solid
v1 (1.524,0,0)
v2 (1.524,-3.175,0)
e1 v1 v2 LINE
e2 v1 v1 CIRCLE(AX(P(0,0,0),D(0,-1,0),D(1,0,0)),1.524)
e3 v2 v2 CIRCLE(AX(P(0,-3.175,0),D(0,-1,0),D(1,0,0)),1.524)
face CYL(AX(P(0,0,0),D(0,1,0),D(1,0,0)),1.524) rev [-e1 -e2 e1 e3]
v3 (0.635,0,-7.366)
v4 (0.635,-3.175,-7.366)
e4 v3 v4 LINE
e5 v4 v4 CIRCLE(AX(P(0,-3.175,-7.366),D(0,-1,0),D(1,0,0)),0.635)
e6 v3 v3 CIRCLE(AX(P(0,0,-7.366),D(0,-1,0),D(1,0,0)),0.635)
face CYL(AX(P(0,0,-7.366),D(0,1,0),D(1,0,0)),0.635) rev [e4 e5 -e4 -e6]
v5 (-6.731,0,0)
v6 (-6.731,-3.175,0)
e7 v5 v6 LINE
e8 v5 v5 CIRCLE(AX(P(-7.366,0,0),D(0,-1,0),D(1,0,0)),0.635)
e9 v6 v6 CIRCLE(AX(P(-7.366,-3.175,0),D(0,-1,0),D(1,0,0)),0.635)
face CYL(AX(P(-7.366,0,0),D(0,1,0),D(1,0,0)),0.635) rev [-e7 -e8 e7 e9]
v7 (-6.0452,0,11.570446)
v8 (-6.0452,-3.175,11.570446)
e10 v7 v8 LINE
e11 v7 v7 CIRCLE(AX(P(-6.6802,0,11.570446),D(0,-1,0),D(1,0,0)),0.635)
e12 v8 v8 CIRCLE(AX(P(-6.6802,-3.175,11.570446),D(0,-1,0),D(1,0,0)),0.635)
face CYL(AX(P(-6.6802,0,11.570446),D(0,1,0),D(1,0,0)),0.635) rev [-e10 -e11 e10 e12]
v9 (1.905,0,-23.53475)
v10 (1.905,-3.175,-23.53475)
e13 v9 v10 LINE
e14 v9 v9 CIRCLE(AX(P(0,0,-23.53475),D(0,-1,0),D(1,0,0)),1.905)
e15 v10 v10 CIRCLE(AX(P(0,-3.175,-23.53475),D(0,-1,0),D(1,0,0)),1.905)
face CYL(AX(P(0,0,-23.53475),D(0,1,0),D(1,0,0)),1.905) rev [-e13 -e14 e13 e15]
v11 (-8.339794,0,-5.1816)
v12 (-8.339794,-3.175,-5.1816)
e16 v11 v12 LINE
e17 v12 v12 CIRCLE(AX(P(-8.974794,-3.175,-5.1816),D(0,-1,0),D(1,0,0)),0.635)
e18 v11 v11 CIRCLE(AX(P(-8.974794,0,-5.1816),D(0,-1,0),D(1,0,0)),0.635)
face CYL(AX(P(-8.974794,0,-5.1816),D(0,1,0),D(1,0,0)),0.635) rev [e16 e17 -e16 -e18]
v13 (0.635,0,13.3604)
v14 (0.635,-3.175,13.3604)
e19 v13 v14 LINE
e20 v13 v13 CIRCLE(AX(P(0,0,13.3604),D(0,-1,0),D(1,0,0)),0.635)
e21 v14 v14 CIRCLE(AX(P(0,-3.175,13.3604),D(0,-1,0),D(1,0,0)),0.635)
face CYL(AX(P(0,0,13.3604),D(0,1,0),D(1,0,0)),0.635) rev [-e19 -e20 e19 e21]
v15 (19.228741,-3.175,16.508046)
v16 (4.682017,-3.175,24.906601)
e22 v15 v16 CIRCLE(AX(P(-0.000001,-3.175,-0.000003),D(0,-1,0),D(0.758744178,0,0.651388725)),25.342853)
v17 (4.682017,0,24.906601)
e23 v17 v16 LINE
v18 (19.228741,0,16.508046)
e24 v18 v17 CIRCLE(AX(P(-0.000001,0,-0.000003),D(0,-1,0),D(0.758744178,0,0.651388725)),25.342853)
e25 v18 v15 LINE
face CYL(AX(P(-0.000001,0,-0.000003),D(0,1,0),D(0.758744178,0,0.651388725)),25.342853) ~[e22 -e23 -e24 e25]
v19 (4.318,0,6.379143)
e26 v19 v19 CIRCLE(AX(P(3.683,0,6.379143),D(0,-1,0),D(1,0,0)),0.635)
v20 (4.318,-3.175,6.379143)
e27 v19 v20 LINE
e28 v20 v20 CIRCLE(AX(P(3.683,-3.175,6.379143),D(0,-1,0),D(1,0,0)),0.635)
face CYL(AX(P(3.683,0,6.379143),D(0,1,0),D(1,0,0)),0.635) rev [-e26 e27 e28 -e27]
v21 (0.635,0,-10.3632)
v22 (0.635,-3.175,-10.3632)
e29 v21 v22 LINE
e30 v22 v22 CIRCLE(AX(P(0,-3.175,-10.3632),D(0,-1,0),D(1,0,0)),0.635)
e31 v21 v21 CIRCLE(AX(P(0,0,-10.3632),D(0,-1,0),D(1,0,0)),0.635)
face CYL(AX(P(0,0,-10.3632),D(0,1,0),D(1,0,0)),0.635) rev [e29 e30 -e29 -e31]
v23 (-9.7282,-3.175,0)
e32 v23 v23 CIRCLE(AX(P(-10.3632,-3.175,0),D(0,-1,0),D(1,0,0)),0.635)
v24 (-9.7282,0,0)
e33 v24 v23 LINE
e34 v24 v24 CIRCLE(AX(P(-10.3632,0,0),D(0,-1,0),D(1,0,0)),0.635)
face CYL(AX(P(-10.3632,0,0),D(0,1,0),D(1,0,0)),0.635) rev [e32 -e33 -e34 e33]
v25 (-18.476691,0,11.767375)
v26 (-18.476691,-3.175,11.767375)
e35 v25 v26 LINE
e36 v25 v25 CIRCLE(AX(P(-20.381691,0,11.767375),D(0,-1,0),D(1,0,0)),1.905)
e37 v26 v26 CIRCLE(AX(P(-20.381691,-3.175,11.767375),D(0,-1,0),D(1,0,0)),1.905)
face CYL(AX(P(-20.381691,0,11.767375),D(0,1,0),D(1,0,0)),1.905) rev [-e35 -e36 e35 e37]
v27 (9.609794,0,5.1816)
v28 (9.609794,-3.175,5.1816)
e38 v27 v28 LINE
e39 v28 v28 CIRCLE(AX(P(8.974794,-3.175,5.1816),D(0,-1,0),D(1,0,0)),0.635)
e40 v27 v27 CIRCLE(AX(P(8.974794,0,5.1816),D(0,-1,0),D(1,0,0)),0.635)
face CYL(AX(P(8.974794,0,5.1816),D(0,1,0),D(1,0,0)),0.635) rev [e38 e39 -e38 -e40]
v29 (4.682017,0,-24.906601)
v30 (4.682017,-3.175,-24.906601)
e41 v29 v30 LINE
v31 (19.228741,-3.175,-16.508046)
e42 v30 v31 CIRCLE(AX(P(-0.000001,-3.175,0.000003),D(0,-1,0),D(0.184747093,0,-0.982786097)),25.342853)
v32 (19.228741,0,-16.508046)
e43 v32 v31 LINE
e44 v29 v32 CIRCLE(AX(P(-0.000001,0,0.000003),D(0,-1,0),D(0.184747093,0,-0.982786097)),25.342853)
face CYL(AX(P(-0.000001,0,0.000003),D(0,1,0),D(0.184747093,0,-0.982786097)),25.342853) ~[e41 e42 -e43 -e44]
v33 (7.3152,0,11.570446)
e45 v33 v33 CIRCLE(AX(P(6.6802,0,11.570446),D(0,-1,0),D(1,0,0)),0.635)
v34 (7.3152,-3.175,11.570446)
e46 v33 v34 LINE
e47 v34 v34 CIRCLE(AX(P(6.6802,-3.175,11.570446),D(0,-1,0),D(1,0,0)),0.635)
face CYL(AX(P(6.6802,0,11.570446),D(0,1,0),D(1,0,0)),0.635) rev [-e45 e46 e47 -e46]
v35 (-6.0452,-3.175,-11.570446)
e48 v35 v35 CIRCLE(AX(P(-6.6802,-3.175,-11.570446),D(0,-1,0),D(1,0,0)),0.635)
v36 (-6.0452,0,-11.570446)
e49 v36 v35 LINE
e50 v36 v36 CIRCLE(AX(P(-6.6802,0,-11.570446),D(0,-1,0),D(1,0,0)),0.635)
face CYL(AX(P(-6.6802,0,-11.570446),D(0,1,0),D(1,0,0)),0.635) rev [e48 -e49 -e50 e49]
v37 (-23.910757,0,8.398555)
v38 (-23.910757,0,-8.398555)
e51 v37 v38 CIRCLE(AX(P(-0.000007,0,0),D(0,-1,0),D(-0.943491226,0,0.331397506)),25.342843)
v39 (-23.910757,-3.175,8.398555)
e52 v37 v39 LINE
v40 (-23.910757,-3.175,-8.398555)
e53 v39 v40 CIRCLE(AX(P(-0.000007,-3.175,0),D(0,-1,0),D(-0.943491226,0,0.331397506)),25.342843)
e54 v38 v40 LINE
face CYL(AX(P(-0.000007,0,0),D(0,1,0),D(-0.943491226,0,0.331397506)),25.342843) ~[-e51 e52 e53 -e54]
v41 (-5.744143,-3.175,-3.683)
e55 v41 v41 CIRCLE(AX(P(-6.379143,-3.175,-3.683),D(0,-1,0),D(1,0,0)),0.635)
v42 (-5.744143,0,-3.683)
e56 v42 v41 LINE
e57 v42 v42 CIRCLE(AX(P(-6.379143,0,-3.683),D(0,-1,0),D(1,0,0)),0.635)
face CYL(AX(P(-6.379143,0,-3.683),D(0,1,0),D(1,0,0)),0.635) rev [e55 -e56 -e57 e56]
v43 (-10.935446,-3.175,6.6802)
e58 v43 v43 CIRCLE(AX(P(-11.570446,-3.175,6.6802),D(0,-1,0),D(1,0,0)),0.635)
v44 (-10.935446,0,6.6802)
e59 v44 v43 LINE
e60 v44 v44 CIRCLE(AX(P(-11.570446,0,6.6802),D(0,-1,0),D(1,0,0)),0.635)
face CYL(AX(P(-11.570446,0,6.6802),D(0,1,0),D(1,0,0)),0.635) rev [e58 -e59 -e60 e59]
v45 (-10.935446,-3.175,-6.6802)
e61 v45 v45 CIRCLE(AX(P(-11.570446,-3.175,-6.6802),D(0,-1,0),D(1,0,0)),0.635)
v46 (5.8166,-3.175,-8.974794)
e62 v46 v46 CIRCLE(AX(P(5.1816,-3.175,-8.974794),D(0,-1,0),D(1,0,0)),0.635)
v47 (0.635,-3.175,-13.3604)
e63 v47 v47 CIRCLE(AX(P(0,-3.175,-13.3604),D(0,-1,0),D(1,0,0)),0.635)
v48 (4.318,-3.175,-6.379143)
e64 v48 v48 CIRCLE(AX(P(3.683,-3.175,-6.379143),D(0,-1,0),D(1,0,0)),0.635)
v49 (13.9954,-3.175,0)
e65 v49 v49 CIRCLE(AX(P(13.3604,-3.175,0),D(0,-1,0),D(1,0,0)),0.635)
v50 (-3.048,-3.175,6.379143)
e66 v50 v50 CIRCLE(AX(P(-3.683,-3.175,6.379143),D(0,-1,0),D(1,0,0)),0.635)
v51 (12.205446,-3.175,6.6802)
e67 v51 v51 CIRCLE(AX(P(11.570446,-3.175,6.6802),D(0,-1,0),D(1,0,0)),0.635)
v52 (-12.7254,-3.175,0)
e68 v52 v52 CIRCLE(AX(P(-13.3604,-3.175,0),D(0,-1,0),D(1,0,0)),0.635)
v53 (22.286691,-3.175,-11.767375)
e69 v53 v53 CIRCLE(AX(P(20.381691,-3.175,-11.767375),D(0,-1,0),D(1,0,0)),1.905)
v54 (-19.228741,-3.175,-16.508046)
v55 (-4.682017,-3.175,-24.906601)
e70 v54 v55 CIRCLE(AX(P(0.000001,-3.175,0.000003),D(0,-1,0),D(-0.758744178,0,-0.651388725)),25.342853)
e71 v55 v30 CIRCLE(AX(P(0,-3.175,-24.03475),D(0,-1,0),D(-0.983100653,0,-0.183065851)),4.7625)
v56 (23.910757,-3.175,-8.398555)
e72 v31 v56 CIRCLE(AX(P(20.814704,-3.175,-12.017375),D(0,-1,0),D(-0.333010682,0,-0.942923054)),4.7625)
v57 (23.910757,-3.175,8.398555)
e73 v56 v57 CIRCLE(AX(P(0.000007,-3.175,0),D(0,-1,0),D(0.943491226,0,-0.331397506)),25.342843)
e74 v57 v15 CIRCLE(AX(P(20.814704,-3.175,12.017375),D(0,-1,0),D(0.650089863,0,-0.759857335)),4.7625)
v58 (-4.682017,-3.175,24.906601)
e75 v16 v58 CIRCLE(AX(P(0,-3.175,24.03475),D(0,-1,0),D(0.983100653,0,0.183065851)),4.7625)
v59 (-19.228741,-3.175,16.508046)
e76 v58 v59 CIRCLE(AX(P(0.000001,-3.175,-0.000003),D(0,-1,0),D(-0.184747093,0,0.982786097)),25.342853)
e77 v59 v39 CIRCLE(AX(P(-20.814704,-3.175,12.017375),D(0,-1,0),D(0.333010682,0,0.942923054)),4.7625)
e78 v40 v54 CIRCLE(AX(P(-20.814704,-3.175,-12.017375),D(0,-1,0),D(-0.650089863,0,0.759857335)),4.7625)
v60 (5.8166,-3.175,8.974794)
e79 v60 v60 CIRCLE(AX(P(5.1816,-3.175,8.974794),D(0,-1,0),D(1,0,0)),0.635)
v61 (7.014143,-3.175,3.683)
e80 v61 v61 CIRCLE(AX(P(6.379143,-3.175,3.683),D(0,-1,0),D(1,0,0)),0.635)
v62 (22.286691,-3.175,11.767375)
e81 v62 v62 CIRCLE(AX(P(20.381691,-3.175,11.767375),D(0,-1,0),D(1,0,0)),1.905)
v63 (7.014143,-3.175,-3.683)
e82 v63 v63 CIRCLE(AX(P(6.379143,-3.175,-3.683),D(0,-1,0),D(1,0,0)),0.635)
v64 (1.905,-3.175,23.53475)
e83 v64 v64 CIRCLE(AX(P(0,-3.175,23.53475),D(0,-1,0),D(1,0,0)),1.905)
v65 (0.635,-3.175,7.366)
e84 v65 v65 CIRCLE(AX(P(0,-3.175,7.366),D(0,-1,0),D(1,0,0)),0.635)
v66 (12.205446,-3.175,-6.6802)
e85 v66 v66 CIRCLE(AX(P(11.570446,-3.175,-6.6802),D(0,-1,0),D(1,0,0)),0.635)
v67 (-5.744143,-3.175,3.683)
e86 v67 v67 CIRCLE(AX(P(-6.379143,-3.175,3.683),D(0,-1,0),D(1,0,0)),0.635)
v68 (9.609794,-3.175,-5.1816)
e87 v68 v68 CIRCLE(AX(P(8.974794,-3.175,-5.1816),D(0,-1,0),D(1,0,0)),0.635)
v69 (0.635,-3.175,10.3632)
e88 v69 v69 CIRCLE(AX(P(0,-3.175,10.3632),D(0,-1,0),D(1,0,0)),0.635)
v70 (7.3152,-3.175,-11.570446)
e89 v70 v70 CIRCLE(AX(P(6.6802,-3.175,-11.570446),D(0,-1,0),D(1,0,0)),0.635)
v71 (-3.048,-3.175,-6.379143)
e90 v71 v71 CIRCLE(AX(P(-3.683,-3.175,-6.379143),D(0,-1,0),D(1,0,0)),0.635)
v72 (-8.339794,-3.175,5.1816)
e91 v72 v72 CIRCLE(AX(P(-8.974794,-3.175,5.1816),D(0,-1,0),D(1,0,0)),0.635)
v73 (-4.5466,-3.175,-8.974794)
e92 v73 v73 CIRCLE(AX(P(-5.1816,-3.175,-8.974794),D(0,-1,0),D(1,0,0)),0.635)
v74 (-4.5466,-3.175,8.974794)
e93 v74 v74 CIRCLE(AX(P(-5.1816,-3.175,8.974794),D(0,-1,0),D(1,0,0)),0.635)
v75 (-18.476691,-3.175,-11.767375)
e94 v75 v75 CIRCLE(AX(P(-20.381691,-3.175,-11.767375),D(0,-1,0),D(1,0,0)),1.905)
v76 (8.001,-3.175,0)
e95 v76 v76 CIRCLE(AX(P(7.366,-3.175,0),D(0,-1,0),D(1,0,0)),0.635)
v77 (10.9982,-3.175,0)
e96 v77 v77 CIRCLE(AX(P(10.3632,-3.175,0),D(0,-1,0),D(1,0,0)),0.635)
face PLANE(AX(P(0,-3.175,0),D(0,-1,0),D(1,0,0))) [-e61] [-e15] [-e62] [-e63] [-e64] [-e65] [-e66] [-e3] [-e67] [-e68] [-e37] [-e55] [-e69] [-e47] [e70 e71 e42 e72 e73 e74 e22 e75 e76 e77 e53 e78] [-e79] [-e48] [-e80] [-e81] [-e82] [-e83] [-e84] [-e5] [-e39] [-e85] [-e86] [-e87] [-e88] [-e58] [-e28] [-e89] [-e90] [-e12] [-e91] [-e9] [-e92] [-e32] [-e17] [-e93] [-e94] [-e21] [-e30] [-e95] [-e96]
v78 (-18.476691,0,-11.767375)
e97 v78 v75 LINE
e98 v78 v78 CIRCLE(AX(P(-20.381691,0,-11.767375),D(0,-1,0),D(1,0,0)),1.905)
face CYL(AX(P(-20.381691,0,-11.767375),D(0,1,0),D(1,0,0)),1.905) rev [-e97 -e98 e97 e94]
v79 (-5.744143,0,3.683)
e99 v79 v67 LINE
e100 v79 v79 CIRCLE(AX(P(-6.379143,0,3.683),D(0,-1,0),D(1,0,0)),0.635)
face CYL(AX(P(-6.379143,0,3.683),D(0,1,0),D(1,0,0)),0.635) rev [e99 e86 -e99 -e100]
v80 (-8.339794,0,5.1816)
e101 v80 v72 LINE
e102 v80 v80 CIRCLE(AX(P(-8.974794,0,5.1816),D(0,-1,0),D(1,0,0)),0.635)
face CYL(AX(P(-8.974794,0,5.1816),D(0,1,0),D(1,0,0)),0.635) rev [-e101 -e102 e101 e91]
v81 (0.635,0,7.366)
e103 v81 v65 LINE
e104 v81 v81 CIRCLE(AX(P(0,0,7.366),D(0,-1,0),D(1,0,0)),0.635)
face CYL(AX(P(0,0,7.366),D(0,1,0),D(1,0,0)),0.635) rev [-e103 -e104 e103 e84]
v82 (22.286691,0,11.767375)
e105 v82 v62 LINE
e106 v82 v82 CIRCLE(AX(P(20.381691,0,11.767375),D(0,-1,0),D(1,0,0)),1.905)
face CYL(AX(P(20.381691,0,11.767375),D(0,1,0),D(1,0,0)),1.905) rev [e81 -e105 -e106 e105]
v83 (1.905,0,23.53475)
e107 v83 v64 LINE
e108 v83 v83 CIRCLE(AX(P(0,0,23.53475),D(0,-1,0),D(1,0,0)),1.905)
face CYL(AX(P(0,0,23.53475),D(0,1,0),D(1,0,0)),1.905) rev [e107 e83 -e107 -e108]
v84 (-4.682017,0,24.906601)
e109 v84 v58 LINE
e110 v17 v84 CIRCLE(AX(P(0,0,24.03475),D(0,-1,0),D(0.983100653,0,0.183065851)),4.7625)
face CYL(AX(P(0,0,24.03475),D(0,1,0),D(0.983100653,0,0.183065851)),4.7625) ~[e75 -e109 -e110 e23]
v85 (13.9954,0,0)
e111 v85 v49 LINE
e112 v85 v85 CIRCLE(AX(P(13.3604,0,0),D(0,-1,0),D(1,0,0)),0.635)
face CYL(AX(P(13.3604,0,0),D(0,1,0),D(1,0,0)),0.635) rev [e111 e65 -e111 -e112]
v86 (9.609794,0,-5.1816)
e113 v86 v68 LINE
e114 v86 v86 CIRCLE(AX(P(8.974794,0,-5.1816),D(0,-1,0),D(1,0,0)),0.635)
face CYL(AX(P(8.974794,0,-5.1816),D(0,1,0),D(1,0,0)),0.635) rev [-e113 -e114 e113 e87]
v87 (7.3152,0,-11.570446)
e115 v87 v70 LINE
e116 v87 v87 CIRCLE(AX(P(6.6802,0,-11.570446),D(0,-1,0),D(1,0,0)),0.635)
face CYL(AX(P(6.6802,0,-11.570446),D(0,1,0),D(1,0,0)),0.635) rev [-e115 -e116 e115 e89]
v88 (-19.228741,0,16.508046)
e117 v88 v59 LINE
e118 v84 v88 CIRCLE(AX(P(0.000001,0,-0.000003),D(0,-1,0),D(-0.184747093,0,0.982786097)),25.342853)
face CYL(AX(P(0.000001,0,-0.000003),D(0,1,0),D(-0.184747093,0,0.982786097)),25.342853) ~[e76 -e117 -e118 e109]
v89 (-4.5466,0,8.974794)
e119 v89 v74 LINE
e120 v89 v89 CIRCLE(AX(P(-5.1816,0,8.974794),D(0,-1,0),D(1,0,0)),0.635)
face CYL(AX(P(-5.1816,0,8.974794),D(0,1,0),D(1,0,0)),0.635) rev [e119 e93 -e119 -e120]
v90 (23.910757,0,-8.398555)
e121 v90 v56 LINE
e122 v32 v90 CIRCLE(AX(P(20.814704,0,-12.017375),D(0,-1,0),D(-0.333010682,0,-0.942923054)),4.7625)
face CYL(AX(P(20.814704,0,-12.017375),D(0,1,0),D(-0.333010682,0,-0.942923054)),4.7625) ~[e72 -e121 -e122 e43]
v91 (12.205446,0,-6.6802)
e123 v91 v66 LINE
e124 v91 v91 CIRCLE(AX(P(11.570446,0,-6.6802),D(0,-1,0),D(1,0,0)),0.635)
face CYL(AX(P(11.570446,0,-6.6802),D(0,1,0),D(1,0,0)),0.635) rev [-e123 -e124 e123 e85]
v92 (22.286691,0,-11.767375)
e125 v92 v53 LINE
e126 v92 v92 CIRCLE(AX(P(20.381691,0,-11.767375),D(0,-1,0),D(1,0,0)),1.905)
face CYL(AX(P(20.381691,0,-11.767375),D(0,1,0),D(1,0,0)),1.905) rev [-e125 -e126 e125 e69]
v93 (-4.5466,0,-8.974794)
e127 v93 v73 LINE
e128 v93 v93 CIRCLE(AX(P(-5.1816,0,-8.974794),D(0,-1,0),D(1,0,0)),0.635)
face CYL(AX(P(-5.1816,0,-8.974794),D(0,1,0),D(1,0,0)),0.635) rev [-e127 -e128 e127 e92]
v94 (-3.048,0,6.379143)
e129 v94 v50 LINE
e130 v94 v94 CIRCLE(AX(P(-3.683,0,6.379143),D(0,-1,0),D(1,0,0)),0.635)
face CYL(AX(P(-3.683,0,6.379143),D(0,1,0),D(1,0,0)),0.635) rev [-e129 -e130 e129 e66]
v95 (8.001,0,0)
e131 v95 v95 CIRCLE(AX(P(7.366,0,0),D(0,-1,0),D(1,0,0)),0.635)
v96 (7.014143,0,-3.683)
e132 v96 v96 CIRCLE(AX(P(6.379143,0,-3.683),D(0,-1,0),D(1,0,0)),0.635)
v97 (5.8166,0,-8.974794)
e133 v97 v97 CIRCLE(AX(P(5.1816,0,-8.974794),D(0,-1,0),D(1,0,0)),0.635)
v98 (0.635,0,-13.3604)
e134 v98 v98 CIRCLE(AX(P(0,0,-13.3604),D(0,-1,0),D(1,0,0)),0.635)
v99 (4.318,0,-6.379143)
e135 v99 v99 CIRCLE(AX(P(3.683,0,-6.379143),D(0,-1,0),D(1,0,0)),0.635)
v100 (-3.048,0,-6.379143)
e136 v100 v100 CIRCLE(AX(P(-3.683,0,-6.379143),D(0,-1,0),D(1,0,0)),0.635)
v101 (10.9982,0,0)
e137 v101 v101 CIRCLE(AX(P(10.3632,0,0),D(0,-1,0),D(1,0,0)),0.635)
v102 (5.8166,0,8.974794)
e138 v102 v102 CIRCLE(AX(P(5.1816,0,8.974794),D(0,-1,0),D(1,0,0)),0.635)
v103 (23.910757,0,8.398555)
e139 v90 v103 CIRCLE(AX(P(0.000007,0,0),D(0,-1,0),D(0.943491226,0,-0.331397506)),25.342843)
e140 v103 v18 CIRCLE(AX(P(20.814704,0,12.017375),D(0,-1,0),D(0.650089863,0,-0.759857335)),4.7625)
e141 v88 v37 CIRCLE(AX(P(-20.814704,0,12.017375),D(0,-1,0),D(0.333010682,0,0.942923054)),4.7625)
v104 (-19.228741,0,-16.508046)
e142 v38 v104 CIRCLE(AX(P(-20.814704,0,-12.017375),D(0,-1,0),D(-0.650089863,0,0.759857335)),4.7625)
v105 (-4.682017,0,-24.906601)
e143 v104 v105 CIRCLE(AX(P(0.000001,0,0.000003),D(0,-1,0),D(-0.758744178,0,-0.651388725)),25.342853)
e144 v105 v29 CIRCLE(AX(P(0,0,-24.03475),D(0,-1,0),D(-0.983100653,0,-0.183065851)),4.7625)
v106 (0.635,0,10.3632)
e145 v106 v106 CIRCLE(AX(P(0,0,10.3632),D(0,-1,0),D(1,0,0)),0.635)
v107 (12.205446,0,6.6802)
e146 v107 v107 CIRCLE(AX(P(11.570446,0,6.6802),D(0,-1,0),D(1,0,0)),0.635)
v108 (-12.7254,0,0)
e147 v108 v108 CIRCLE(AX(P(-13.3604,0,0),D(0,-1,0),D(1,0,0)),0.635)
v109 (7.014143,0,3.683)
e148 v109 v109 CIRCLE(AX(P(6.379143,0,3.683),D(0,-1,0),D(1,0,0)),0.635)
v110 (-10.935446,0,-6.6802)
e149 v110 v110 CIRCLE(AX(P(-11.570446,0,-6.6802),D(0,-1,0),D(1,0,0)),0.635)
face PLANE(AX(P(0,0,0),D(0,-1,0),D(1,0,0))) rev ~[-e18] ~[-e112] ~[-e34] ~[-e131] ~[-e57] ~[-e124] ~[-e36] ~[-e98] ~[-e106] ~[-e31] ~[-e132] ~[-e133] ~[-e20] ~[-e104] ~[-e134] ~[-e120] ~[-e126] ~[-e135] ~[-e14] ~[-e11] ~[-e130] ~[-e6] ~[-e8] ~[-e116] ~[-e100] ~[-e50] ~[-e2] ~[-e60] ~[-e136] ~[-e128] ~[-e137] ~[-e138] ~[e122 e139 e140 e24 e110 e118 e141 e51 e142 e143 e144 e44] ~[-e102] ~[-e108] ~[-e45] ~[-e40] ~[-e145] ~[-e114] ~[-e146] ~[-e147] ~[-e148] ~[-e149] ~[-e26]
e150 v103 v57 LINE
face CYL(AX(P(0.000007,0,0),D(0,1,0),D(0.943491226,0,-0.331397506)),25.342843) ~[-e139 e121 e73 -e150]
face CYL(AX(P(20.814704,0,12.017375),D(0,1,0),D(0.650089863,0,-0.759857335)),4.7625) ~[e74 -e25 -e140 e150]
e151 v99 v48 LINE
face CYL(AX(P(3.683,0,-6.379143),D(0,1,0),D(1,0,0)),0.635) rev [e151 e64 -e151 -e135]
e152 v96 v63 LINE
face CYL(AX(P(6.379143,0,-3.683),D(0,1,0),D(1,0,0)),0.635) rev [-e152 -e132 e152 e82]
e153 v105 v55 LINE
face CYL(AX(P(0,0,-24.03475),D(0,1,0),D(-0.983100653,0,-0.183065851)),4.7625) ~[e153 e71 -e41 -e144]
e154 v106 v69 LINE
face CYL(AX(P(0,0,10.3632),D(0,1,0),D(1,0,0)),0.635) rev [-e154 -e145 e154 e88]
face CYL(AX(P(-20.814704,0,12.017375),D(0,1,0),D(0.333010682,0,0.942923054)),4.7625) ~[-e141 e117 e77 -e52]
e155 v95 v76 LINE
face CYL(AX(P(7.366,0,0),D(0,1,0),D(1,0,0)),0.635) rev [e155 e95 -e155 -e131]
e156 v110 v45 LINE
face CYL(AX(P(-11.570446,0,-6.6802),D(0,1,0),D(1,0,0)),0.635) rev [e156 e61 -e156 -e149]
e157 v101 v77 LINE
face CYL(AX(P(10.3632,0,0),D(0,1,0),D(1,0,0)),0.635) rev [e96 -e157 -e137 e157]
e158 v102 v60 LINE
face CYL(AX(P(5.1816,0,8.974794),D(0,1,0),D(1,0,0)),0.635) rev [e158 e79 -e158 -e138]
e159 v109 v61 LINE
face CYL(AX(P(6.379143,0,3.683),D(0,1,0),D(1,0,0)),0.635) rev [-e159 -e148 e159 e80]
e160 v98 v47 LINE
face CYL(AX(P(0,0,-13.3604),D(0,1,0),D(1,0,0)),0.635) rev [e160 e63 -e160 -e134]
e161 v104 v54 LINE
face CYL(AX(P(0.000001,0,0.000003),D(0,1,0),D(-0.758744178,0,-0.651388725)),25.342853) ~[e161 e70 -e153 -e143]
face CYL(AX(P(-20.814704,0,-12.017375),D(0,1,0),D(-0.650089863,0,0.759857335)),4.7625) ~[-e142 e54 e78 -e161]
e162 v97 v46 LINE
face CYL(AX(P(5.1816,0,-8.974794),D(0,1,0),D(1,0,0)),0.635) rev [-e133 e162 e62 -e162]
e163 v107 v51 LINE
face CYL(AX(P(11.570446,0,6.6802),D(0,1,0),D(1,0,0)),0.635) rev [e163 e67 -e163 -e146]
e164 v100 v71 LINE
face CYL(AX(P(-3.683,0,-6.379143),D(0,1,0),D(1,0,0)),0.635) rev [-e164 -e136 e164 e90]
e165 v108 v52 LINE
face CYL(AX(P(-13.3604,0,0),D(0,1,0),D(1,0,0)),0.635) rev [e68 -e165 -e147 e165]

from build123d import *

# Parameters (mm, degrees)
F0_R     = 1.905
F0_R_2   = 0.635
F0_R_3   = 1.524
F1_DEPTH = 3.175


with BuildPart() as f1:
    # F0 (on Front) → F1 (new body)
    with BuildSketch(Plane.XZ):
        with BuildLine():
            ThreePointArc((19.228741, 16.508046), (12.671425, 21.947552), (4.682017, 24.906601))
            ThreePointArc((4.682017, 24.906601), (0, 28.79725), (-4.682017, 24.906601))
            ThreePointArc((-4.682017, 24.906601), (-12.671425, 21.947552), (-19.228741, 16.508046))
            ThreePointArc((-19.228741, 16.508046), (-24.93915, 14.398625), (-23.910757, 8.398555))
            ThreePointArc((-23.910757, 8.398555), (-25.34285, 0), (-23.910757, -8.398555))
            ThreePointArc((-23.910757, -8.398555), (-24.93915, -14.398625), (-19.228741, -16.508046))
            ThreePointArc((-19.228741, -16.508046), (-12.671425, -21.947552), (-4.682017, -24.906601))
            ThreePointArc((-4.682017, -24.906601), (0, -28.79725), (4.682017, -24.906601))
            ThreePointArc((4.682017, -24.906601), (12.671425, -21.947552), (19.228741, -16.508046))
            ThreePointArc((19.228741, -16.508046), (24.93915, -14.398625), (23.910757, -8.398555))
            ThreePointArc((23.910757, -8.398555), (25.34285, 0), (23.910757, 8.398555))
            ThreePointArc((23.910757, 8.398555), (24.93915, 14.398625), (19.228741, 16.508046))
        make_face()
        with Locations((-20.381691, -11.767375)):
            Circle(F0_R, mode=Mode.SUBTRACT)
        with Locations((-6.6802, -11.570446)):
            Circle(F0_R_2, mode=Mode.SUBTRACT)
        with Locations((-5.1816, -8.974794)):
            Circle(F0_R_2, mode=Mode.SUBTRACT)
        with Locations((-11.570446, -6.6802)):
            Circle(F0_R_2, mode=Mode.SUBTRACT)
        with Locations((-8.974794, -5.1816)):
            Circle(F0_R_2, mode=Mode.SUBTRACT)
        with Locations((-3.683, -6.379143)):
            Circle(F0_R_2, mode=Mode.SUBTRACT)
        with Locations((-6.379143, -3.683)):
            Circle(F0_R_2, mode=Mode.SUBTRACT)
        with Locations((0, -23.53475)):
            Circle(F0_R, mode=Mode.SUBTRACT)
        with Locations((0, -13.3604)):
            Circle(F0_R_2, mode=Mode.SUBTRACT)
        with Locations((0, -10.3632)):
            Circle(F0_R_2, mode=Mode.SUBTRACT)
        with Locations((0, -7.366)):
            Circle(F0_R_2, mode=Mode.SUBTRACT)
        with Locations((5.1816, -8.974794)):
            Circle(F0_R_2, mode=Mode.SUBTRACT)
        with Locations((6.6802, -11.570446)):
            Circle(F0_R_2, mode=Mode.SUBTRACT)
        with Locations((3.683, -6.379143)):
            Circle(F0_R_2, mode=Mode.SUBTRACT)
        with Locations((6.379143, -3.683)):
            Circle(F0_R_2, mode=Mode.SUBTRACT)
        with Locations((8.974794, -5.1816)):
            Circle(F0_R_2, mode=Mode.SUBTRACT)
        with Locations((11.570446, -6.6802)):
            Circle(F0_R_2, mode=Mode.SUBTRACT)
        with Locations((20.381691, -11.767375)):
            Circle(F0_R, mode=Mode.SUBTRACT)
        with Locations((-13.3604, 0)):
            Circle(F0_R_2, mode=Mode.SUBTRACT)
        with Locations((-20.381691, 11.767375)):
            Circle(F0_R, mode=Mode.SUBTRACT)
        with Locations((-10.3632, 0)):
            Circle(F0_R_2, mode=Mode.SUBTRACT)
        with Locations((-7.366, 0)):
            Circle(F0_R_2, mode=Mode.SUBTRACT)
        with Locations((-11.570446, 6.6802)):
            Circle(F0_R_2, mode=Mode.SUBTRACT)
        with Locations((-8.974794, 5.1816)):
            Circle(F0_R_2, mode=Mode.SUBTRACT)
        with Locations((-6.379143, 3.683)):
            Circle(F0_R_2, mode=Mode.SUBTRACT)
        with Locations((-3.683, 6.379143)):
            Circle(F0_R_2, mode=Mode.SUBTRACT)
        with Locations((-6.6802, 11.570446)):
            Circle(F0_R_2, mode=Mode.SUBTRACT)
        with Locations((-5.1816, 8.974794)):
            Circle(F0_R_2, mode=Mode.SUBTRACT)
        Circle(F0_R_3, mode=Mode.SUBTRACT)
        with Locations((6.379143, 3.683)):
            Circle(F0_R_2, mode=Mode.SUBTRACT)
        with Locations((3.683, 6.379143)):
            Circle(F0_R_2, mode=Mode.SUBTRACT)
        with Locations((7.366, 0)):
            Circle(F0_R_2, mode=Mode.SUBTRACT)
        with Locations((10.3632, 0)):
            Circle(F0_R_2, mode=Mode.SUBTRACT)
        with Locations((8.974794, 5.1816)):
            Circle(F0_R_2, mode=Mode.SUBTRACT)
        with Locations((11.570446, 6.6802)):
            Circle(F0_R_2, mode=Mode.SUBTRACT)
        with Locations((0, 7.366)):
            Circle(F0_R_2, mode=Mode.SUBTRACT)
        with Locations((0, 10.3632)):
            Circle(F0_R_2, mode=Mode.SUBTRACT)
        with Locations((5.1816, 8.974794)):
            Circle(F0_R_2, mode=Mode.SUBTRACT)
        with Locations((0, 13.3604)):
            Circle(F0_R_2, mode=Mode.SUBTRACT)
        with Locations((6.6802, 11.570446)):
            Circle(F0_R_2, mode=Mode.SUBTRACT)
        with Locations((13.3604, 0)):
            Circle(F0_R_2, mode=Mode.SUBTRACT)
        with Locations((20.381691, 11.767375)):
            Circle(F0_R, mode=Mode.SUBTRACT)
        with Locations((0, 23.53475)):
            Circle(F0_R, mode=Mode.SUBTRACT)
    extrude(amount=F1_DEPTH)


solid = f1.part
